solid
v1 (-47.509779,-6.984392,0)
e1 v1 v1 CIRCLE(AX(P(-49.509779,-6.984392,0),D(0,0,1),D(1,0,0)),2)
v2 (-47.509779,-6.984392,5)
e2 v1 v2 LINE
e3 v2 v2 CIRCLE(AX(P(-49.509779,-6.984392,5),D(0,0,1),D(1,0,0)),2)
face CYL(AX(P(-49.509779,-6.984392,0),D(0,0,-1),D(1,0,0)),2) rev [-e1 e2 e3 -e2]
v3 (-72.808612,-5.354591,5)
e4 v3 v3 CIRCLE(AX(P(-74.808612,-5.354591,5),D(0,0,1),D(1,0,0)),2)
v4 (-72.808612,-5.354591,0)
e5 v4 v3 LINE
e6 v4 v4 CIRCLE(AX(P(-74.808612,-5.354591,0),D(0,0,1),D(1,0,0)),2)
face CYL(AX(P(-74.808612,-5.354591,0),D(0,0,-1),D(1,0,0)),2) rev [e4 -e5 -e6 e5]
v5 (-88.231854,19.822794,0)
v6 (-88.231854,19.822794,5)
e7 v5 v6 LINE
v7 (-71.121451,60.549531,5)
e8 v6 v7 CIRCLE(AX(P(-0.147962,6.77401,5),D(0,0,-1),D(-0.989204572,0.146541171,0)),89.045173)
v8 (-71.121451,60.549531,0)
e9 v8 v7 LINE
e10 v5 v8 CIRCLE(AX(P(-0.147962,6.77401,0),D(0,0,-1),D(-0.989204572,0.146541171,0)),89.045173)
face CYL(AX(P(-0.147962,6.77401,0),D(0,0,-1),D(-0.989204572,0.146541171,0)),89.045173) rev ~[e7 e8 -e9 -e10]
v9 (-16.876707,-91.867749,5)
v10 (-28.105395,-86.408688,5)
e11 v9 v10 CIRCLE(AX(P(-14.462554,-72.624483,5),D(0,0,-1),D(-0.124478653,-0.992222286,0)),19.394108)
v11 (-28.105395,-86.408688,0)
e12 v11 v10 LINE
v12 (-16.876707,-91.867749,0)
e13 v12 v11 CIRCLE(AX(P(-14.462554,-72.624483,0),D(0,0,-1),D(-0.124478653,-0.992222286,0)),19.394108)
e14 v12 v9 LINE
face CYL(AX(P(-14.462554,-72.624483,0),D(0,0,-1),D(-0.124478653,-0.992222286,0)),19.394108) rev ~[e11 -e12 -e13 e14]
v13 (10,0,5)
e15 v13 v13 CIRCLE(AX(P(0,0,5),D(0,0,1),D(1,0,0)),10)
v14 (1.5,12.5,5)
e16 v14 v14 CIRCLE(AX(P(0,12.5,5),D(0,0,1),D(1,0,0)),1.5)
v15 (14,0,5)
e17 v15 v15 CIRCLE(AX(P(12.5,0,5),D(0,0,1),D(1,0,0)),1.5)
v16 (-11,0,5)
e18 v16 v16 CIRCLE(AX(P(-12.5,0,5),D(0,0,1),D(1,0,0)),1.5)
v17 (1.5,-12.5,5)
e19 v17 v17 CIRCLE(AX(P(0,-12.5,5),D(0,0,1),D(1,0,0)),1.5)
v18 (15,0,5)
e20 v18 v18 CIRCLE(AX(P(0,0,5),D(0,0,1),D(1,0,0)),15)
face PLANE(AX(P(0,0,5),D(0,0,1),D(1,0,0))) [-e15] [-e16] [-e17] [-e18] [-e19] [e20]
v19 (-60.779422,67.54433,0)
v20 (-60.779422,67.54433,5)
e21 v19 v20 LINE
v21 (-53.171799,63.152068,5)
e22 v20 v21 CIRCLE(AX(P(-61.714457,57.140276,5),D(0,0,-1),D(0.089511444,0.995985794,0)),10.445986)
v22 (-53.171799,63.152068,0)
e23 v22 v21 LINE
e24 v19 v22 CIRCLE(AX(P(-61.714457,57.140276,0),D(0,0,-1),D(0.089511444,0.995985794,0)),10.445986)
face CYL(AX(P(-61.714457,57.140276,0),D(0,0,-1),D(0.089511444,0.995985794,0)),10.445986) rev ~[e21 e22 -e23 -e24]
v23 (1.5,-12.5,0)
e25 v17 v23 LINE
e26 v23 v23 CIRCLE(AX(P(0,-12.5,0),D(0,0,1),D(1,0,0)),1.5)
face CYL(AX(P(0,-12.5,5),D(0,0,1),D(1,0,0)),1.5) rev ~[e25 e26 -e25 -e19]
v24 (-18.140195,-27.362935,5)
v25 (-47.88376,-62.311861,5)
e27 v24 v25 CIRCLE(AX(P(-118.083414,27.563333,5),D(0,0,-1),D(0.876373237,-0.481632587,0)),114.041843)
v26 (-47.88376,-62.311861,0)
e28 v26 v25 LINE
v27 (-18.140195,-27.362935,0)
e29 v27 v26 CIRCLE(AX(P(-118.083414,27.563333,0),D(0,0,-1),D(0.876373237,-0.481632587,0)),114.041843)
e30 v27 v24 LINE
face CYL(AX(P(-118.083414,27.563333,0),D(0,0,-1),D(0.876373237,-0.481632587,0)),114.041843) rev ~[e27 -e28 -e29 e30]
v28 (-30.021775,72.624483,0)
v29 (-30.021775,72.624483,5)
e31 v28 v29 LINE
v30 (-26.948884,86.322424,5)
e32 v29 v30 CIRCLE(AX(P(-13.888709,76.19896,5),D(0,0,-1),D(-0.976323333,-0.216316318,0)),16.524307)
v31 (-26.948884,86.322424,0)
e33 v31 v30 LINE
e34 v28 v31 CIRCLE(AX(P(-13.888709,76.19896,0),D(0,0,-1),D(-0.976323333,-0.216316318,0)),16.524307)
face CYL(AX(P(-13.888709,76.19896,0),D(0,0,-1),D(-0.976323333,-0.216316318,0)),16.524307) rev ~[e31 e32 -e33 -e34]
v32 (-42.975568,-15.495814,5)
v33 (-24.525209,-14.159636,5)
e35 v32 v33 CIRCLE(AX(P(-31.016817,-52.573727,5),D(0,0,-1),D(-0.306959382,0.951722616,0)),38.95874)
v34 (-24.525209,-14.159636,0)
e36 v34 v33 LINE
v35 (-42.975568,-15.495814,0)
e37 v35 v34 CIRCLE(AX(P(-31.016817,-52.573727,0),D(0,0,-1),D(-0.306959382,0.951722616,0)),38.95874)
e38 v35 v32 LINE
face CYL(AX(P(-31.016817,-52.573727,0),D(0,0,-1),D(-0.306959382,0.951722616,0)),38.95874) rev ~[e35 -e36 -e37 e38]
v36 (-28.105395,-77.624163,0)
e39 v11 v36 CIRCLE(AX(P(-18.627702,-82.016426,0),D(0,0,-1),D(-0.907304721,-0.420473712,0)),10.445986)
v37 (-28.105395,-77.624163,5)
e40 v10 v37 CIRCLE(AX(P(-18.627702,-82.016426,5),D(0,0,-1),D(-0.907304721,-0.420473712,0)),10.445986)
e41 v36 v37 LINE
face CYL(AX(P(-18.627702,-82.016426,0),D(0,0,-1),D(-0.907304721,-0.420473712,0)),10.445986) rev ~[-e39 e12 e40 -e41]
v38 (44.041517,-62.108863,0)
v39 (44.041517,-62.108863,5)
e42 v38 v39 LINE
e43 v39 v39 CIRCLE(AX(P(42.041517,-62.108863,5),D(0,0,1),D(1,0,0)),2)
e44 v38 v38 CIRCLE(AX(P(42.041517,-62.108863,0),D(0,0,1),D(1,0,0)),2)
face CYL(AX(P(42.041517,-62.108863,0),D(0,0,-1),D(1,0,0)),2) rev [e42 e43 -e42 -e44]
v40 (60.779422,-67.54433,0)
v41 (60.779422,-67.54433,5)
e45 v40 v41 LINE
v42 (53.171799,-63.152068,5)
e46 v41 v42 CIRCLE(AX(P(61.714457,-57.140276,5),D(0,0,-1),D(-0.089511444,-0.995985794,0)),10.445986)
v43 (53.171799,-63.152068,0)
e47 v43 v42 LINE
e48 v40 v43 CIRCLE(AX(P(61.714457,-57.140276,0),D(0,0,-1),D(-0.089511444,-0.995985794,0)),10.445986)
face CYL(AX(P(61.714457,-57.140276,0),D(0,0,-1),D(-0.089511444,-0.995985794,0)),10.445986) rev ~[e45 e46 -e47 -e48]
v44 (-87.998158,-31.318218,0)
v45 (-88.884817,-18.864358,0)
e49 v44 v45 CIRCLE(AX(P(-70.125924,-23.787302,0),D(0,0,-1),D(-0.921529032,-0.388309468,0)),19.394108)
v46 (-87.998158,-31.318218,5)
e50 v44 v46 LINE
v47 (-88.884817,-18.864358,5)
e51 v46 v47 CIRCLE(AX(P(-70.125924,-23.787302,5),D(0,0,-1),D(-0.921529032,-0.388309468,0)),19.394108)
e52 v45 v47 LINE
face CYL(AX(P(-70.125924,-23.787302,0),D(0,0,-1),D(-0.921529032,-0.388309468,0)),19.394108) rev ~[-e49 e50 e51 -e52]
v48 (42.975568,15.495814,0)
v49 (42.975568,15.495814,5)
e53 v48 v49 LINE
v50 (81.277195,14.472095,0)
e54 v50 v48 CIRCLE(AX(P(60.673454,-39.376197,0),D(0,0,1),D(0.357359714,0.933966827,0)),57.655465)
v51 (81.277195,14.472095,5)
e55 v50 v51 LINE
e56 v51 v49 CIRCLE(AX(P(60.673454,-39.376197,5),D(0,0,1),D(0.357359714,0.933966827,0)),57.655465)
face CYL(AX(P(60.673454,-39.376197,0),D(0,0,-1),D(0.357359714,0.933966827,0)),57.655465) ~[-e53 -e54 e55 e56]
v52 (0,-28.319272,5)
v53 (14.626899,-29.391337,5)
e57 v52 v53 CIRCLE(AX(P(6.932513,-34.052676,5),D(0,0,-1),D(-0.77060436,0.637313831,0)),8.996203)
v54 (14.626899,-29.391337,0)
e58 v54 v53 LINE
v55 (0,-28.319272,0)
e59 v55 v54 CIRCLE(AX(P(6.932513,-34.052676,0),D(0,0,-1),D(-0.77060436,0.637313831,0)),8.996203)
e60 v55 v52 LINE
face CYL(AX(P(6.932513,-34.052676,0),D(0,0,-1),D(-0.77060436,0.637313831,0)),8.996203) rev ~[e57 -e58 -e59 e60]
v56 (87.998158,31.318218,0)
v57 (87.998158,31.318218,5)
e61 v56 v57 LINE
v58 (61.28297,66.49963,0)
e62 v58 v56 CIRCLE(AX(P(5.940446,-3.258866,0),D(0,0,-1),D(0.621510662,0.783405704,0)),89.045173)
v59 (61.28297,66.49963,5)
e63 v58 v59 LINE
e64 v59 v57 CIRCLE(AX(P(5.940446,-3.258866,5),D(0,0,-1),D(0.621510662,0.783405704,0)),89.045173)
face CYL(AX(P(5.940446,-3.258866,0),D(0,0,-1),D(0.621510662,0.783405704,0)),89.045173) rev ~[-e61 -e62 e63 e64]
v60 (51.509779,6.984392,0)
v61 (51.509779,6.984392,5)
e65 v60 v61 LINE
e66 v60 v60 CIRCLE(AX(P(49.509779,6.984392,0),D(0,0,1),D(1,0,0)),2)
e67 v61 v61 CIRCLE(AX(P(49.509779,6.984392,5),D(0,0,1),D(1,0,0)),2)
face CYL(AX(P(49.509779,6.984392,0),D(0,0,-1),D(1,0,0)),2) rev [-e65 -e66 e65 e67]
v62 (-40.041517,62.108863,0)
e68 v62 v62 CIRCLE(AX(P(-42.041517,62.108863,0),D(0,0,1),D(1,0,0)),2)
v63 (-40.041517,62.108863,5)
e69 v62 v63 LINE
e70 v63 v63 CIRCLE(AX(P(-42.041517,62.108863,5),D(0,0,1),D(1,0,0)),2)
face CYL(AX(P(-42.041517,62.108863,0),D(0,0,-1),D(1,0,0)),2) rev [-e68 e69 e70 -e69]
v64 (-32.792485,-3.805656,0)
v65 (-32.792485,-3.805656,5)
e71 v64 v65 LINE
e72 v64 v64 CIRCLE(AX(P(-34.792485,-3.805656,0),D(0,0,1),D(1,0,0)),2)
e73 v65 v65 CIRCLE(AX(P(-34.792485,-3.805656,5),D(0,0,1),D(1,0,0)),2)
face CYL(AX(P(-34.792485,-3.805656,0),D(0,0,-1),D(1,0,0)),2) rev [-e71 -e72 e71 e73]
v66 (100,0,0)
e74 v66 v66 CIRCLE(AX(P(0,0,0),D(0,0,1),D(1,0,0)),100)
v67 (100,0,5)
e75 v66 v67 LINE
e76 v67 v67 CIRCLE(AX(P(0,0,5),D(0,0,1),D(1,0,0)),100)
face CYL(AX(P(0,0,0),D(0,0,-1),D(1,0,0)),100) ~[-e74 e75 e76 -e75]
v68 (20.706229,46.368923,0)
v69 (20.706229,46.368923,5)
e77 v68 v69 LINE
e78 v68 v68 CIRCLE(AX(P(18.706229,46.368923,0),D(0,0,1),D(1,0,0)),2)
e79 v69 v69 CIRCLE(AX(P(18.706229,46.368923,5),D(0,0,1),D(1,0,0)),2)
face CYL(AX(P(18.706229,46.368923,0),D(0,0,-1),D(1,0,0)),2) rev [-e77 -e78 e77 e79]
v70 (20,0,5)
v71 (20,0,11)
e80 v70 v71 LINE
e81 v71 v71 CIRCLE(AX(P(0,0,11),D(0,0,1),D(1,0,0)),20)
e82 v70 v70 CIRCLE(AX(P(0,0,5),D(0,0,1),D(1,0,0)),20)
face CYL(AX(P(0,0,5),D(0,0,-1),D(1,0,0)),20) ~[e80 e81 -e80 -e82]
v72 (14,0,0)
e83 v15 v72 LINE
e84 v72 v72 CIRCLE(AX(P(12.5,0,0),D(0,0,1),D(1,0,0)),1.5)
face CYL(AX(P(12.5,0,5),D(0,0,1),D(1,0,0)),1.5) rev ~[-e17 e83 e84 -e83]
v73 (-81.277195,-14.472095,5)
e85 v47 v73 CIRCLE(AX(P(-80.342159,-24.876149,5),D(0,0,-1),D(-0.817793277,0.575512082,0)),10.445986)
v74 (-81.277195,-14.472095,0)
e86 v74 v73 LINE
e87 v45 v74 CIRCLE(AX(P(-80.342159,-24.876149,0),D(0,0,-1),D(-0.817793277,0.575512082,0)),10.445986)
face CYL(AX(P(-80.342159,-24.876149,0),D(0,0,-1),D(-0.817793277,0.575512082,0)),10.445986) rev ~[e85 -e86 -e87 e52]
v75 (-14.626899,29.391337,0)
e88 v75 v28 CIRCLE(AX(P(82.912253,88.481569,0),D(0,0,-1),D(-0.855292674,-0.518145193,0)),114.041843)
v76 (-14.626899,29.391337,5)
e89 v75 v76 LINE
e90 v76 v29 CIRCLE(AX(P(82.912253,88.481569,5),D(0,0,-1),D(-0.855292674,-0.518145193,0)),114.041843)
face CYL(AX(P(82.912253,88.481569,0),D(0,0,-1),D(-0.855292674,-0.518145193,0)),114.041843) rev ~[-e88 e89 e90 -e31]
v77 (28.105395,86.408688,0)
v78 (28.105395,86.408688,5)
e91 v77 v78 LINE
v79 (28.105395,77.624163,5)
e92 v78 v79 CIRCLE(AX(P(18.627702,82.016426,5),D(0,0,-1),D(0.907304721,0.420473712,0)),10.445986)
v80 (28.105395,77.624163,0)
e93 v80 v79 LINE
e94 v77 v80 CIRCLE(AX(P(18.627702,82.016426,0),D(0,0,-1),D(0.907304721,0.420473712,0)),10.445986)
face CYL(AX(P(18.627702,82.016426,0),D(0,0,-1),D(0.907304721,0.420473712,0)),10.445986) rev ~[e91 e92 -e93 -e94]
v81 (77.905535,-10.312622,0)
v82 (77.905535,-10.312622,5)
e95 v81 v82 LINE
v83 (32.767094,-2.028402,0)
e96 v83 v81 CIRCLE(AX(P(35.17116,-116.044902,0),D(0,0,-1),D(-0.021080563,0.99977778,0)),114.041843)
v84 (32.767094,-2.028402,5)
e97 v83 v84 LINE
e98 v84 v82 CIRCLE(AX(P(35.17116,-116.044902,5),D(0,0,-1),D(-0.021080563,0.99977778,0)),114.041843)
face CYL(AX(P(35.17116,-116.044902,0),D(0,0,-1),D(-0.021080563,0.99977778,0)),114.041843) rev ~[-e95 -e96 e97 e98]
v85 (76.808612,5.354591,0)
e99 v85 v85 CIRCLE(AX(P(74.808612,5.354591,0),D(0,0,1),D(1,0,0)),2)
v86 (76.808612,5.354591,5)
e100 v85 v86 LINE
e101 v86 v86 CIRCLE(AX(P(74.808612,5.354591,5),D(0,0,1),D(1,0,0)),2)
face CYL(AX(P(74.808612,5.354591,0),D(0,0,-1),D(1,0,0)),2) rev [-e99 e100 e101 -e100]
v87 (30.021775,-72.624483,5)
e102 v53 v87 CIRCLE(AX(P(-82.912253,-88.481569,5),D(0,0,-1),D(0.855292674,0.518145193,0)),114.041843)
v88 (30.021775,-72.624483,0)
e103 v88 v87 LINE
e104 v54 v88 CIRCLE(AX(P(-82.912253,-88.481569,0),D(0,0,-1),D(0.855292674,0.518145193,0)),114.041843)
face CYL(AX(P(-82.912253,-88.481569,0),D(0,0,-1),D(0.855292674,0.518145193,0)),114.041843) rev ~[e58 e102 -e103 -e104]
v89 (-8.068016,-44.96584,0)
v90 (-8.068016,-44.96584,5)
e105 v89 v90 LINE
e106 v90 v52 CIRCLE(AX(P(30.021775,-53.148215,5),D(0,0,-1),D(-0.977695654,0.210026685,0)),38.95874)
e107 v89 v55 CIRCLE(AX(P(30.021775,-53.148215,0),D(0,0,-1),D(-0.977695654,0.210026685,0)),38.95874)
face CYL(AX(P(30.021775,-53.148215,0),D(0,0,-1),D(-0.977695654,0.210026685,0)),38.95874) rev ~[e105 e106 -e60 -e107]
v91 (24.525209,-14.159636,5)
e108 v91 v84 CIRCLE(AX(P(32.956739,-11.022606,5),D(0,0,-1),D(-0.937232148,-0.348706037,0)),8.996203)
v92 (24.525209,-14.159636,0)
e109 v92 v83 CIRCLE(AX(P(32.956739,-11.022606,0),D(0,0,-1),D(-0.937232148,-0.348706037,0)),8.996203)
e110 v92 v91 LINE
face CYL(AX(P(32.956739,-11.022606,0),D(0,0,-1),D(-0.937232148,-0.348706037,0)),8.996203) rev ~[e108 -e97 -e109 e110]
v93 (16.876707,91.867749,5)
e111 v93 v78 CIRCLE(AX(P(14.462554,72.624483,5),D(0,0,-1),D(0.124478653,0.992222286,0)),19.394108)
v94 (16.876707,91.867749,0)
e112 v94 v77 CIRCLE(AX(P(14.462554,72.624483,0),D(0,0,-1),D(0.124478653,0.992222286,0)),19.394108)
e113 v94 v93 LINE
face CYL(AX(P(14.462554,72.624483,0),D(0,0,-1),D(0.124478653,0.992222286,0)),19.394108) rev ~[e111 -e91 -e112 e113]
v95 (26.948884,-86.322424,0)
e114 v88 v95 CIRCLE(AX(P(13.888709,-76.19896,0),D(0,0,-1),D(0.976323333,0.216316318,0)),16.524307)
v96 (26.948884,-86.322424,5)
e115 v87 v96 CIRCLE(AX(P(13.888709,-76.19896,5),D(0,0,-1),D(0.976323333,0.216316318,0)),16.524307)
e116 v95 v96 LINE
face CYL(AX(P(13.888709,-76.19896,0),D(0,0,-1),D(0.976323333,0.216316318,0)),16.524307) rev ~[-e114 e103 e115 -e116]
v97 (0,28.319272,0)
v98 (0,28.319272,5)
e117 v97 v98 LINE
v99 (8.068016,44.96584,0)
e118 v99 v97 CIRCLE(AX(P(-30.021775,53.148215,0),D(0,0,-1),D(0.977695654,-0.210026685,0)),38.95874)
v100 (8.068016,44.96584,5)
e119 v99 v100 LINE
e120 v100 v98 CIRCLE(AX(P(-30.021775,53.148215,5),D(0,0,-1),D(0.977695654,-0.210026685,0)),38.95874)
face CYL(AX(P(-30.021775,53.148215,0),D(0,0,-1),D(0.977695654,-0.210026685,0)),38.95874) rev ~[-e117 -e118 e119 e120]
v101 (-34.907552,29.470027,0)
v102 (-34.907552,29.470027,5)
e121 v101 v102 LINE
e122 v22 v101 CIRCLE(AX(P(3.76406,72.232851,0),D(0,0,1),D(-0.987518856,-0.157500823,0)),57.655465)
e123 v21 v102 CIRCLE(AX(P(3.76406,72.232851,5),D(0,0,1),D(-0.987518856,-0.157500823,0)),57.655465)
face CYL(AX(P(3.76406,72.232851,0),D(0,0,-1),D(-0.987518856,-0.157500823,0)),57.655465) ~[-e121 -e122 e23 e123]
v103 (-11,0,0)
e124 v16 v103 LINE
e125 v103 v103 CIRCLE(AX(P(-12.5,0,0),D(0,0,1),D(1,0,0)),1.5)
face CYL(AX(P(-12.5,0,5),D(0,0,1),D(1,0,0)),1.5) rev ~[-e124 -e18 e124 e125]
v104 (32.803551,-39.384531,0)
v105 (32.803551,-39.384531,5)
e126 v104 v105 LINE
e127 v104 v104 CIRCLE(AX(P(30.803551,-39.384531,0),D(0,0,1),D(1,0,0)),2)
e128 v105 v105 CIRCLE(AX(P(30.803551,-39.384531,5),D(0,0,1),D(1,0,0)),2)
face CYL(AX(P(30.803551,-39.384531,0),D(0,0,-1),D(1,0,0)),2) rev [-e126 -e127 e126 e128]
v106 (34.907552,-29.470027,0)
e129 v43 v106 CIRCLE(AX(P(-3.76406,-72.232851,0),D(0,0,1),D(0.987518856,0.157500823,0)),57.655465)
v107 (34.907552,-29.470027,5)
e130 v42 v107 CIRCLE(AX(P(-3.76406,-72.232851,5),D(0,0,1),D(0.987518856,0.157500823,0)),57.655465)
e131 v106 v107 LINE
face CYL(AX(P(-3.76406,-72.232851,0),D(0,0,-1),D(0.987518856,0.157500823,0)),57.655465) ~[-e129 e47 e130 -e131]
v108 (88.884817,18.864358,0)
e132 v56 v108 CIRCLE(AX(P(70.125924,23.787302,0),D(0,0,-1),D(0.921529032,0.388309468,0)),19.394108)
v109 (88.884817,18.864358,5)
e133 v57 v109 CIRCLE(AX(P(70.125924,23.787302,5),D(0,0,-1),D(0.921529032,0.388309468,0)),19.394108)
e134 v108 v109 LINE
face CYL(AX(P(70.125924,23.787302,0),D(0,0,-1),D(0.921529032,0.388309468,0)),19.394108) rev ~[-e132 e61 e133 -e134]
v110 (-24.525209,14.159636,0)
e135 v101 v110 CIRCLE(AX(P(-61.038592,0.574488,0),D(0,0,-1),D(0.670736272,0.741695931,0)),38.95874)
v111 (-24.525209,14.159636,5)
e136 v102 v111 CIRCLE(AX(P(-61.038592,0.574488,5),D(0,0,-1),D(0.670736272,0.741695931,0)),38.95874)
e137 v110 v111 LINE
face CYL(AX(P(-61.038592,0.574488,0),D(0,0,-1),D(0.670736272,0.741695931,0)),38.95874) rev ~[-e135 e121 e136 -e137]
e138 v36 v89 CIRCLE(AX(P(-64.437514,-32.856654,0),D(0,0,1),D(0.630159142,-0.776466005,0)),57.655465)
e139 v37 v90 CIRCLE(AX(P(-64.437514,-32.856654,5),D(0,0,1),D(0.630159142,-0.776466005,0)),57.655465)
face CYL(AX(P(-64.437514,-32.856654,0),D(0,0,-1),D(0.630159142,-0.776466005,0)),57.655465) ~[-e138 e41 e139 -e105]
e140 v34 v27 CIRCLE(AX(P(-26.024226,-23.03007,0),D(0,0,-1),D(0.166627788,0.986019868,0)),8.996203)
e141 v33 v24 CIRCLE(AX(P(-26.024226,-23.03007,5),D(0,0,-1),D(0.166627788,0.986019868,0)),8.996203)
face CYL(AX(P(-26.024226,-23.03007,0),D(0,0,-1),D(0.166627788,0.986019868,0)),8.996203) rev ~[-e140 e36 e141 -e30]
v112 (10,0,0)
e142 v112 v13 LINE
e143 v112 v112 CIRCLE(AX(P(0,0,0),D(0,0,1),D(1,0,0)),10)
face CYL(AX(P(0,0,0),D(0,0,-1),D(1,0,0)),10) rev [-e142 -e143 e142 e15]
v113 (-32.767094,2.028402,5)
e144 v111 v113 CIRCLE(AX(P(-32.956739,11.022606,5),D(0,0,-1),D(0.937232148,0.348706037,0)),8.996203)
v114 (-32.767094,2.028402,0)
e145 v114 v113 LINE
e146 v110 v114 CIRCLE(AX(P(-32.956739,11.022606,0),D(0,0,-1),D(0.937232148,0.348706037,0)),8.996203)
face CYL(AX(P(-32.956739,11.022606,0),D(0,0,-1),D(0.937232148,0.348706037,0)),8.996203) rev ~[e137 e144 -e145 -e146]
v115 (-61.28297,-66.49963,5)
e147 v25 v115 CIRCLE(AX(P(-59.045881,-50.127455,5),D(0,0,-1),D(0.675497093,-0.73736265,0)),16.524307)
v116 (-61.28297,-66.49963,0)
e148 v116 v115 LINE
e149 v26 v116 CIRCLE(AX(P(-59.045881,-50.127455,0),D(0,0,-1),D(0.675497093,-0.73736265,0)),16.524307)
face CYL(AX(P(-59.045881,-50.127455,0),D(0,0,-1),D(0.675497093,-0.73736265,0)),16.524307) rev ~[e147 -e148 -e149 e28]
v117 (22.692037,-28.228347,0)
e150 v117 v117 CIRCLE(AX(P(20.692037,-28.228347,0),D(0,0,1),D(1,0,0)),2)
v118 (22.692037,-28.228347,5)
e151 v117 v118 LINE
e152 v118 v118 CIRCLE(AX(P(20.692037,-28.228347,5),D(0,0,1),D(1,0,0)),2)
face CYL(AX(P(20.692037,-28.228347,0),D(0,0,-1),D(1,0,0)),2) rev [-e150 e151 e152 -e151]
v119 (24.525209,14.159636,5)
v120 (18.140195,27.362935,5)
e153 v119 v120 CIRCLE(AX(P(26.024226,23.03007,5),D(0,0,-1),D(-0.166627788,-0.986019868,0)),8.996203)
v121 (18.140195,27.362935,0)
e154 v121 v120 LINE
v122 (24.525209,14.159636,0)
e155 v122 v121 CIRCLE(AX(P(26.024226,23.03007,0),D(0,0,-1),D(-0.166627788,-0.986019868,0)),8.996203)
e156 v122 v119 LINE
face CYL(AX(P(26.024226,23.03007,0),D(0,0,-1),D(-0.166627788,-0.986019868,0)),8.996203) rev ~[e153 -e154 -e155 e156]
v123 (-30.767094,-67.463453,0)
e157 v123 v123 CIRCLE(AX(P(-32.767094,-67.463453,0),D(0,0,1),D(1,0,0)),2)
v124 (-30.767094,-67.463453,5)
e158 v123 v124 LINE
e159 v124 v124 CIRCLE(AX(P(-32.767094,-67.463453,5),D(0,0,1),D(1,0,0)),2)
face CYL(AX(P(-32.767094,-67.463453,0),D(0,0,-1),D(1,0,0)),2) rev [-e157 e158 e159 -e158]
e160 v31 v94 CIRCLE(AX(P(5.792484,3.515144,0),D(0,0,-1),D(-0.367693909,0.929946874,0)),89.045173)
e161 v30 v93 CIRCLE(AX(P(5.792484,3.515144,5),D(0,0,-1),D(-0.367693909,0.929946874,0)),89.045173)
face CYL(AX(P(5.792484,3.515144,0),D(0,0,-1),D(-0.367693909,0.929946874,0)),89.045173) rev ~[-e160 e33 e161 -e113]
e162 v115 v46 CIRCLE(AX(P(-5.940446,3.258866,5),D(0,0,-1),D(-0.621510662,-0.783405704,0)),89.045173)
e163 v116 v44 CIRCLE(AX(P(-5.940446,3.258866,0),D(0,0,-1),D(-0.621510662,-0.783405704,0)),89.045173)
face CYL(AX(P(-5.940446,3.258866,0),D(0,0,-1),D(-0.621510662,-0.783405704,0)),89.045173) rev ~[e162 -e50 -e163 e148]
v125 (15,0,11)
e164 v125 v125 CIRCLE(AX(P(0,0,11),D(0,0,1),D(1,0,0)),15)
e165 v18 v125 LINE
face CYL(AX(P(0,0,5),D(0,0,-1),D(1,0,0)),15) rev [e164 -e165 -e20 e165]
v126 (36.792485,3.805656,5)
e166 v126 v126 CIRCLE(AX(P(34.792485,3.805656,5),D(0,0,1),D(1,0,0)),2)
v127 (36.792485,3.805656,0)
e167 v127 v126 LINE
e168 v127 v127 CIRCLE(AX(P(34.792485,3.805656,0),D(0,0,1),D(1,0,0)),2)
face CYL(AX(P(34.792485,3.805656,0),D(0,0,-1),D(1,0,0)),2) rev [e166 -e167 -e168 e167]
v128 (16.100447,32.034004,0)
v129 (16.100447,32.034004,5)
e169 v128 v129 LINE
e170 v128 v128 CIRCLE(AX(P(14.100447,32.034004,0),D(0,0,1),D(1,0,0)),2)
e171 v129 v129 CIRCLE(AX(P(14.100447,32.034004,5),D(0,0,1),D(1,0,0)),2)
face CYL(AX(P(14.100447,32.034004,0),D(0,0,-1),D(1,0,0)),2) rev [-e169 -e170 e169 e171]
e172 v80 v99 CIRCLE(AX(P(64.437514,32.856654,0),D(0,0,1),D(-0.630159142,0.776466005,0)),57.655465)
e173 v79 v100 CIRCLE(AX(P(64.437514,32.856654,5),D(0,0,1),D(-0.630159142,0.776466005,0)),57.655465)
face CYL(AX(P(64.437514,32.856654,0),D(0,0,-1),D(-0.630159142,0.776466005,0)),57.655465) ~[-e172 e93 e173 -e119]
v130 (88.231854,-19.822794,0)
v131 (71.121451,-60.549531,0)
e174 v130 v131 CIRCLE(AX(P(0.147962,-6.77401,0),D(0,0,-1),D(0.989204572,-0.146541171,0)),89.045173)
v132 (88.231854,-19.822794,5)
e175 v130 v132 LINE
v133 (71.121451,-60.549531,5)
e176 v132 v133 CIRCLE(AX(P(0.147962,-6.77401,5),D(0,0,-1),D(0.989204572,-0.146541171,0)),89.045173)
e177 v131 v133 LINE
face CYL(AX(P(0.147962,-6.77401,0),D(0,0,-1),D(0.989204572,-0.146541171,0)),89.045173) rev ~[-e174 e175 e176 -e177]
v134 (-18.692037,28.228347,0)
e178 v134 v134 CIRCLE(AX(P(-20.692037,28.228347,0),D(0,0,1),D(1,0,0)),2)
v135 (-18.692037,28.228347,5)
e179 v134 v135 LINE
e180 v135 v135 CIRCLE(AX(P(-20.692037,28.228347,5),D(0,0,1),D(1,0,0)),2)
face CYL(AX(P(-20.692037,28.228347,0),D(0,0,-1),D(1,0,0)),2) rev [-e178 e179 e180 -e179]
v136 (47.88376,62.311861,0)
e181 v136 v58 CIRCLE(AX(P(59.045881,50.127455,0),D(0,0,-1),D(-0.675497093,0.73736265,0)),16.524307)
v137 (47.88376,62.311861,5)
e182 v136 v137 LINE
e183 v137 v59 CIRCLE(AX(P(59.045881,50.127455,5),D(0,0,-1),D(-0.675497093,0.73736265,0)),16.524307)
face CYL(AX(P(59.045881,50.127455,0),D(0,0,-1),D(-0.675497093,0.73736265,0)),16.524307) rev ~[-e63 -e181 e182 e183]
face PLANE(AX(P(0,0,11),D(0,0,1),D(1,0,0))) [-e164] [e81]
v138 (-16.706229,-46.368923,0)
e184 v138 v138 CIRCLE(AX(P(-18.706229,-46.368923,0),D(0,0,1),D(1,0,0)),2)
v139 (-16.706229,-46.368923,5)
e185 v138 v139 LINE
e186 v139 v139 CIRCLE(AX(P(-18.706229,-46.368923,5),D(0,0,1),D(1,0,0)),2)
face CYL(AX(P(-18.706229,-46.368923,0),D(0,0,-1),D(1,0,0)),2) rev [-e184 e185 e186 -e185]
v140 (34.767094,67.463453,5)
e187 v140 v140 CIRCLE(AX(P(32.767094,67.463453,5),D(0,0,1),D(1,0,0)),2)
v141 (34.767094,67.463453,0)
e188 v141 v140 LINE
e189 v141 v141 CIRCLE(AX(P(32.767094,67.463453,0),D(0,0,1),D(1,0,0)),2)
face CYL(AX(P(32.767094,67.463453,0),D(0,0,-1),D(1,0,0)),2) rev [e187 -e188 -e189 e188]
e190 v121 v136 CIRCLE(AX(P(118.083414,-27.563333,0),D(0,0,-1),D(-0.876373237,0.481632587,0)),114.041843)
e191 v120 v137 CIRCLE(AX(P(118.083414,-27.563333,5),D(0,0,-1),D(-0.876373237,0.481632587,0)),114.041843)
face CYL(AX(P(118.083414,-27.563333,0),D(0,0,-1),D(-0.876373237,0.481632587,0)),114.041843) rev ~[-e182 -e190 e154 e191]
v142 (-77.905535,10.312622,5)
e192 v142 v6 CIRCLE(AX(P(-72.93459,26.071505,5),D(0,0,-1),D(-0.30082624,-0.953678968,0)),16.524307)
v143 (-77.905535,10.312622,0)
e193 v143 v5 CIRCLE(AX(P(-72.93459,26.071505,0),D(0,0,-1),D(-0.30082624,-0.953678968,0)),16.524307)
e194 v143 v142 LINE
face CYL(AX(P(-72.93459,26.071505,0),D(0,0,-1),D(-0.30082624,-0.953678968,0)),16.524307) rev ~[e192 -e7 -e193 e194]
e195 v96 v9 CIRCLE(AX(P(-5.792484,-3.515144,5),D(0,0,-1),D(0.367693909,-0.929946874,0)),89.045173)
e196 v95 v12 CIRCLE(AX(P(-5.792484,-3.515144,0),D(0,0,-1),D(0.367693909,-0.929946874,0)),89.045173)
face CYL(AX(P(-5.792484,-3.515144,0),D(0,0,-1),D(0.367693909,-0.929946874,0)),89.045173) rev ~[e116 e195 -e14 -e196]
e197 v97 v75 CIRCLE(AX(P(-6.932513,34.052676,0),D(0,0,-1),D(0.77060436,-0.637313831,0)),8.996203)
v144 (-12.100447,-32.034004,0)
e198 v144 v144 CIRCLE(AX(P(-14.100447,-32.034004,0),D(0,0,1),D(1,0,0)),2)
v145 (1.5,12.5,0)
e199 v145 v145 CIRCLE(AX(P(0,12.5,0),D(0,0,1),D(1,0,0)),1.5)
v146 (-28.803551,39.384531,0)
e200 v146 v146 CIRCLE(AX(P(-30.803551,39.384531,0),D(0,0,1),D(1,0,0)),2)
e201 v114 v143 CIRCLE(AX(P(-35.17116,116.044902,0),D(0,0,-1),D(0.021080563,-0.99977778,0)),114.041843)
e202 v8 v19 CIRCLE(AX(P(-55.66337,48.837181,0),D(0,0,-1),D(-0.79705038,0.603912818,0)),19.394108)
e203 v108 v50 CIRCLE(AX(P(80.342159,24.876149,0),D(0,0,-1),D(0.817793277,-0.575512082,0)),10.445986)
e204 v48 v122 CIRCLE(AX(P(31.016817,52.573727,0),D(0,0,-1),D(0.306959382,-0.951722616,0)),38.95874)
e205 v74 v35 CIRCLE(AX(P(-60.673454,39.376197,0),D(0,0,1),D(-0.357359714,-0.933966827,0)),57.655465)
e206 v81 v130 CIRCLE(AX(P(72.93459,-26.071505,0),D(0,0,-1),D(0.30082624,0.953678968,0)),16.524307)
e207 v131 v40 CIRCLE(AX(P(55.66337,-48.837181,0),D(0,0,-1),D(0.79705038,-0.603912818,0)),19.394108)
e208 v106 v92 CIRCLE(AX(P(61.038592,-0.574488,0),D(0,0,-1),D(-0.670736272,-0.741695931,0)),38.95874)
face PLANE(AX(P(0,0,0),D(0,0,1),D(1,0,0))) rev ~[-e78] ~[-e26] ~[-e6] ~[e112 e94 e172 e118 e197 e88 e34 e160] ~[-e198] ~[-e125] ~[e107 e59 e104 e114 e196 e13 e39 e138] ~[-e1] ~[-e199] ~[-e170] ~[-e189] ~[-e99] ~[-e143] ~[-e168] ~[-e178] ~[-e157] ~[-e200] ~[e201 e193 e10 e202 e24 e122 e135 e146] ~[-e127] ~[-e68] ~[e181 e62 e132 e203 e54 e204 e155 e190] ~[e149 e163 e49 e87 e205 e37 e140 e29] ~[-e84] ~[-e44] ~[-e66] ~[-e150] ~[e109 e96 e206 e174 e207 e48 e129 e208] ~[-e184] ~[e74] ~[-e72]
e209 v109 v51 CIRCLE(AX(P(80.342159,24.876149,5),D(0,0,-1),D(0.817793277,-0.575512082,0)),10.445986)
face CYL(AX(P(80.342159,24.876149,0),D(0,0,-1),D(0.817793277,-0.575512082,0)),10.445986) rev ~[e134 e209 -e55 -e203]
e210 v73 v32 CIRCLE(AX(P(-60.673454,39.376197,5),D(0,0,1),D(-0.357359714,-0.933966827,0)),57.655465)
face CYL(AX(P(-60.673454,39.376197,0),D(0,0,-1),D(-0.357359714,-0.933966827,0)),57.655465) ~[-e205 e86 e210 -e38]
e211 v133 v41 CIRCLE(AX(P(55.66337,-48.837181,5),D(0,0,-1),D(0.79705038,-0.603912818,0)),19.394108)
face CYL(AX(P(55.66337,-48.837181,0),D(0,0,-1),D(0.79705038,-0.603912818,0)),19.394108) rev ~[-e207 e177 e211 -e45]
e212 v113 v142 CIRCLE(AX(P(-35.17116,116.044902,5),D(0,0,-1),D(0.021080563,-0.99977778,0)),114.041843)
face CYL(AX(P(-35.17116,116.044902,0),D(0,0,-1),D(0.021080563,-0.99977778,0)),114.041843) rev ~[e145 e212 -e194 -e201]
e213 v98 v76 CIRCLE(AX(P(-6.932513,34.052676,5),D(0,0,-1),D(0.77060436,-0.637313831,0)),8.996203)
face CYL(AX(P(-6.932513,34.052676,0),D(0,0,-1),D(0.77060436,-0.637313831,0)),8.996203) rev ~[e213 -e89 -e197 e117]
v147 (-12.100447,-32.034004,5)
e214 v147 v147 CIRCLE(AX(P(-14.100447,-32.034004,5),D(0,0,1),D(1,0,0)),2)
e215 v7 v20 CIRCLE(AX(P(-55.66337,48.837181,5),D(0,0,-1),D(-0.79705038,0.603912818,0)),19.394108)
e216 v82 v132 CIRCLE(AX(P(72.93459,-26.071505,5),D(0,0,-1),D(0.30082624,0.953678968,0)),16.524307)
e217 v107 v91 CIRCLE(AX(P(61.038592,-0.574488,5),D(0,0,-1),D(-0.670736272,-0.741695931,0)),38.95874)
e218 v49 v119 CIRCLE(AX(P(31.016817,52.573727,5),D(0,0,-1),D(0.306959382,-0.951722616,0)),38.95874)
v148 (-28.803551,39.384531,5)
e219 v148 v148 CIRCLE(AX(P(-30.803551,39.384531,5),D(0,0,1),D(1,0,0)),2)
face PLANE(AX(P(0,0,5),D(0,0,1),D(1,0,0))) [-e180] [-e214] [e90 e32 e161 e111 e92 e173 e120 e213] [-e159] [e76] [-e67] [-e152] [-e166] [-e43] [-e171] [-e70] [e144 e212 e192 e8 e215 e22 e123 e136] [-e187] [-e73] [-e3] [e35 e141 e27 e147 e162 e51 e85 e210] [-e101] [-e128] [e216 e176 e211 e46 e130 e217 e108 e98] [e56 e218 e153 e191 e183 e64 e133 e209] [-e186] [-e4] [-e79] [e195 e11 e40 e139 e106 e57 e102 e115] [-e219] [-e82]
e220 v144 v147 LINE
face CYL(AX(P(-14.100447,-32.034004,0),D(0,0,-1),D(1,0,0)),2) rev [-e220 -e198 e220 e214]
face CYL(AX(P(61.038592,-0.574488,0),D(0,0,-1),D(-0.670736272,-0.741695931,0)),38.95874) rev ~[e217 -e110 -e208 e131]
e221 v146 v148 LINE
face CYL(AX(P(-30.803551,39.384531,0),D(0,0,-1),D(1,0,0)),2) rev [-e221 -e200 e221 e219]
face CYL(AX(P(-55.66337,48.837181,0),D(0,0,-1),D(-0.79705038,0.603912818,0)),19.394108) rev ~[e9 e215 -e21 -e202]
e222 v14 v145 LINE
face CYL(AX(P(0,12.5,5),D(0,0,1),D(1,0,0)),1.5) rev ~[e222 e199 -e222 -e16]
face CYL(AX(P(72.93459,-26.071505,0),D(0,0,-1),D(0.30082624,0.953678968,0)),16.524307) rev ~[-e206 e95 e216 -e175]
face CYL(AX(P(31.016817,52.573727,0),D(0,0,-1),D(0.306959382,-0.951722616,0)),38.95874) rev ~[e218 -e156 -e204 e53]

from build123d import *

# Parameters (mm, degrees)
SKETCH1_R           = 100
SKETCH1_R_2         = 2
SKETCH1_R_3         = 10
BOSS_EXTRUDE1_DEPTH = 5
SKETCH2_R           = 20
SKETCH2_R_2         = 15
BOSS_EXTRUDE2_DEPTH = 6
CUT_EXTRUDE1_REACH  = 143.549
SKETCH3_R           = 1.5


with BuildPart() as part:
    # Sketch1 → Boss-Extrude1 (new body)
    with BuildSketch(Plane.XY):
        Circle(SKETCH1_R)
        with Locations((-32.76709405, -67.463453421)):
            Circle(SKETCH1_R_2, mode=Mode.SUBTRACT)
        with BuildLine():
            ThreePointArc((-18.140194711, -27.362934842), (-31.235810605, -46.349018862), (-47.883759759, -62.311861059))
            ThreePointArc((-47.883759759, -62.311861059), (-54.116540013, -65.899401412), (-61.282970137, -66.499630328))
            ThreePointArc((-61.282970137, -66.499630328), (-76.856869776, -50.591887199), (-87.998157845, -31.318217554))
            ThreePointArc((-87.998157845, -31.318217554), (-89.471065891, -25.164589135), (-88.884816772, -18.864357964))
            ThreePointArc((-88.884816772, -18.864357964), (-85.565152522, -15.829659751), (-81.277194651, -14.472095285))
            ThreePointArc((-81.277194651, -14.472095285), (-62.213907679, -18.258685792), (-42.975567969, -15.495813542))
            ThreePointArc((-42.975567969, -15.495813542), (-33.830845233, -13.716750405), (-24.525208658, -14.159635821))
            ThreePointArc((-24.525208658, -14.159635821), (-17.925326288, -19.113504773), (-18.140194711, -27.362934842))
        make_face(mode=Mode.SUBTRACT)
        with Locations((-74.808611515, -5.354590855)):
            Circle(SKETCH1_R_2, mode=Mode.SUBTRACT)
        with Locations((-18.706228616, -46.368922901)):
            Circle(SKETCH1_R_2, mode=Mode.SUBTRACT)
        with Locations((-14.100447384, -32.034003552)):
            Circle(SKETCH1_R_2, mode=Mode.SUBTRACT)
        with Locations((-49.509779486, -6.98439226)):
            Circle(SKETCH1_R_2, mode=Mode.SUBTRACT)
        with Locations((-34.792484553, -3.805656136)):
            Circle(SKETCH1_R_2, mode=Mode.SUBTRACT)
        with BuildLine():
            ThreePointArc((14.62689934, -29.39133687), (24.521522472, -50.225514922), (30.021774754, -72.62448291))
            ThreePointArc((30.021774754, -72.62448291), (30.012285711, -79.815999122), (26.948884138, -86.322424122))
            ThreePointArc((26.948884138, -86.322424122), (5.385424652, -91.85594528), (-16.876706919, -91.867748957))
            ThreePointArc((-16.876706919, -91.867748957), (-22.942359479, -90.066510532), (-28.105395163, -86.408688317))
            ThreePointArc((-28.105395163, -86.408688317), (-29.073688784, -82.016425638), (-28.105395163, -77.624162959))
            ThreePointArc((-28.105395163, -77.624162959), (-15.294468104, -63.008167415), (-8.068015805, -44.965840374))
            ThreePointArc((-8.068015805, -44.965840374), (-5.036368308, -36.156746606), (0, -28.319271641))
            ThreePointArc((0, -28.319271641), (7.590117545, -25.080540323), (14.62689934, -29.39133687))
        make_face(mode=Mode.SUBTRACT)
        with Locations((42.041517465, -62.108862566)):
            Circle(SKETCH1_R_2, mode=Mode.SUBTRACT)
        with Locations((20.692037169, -28.228347416)):
            Circle(SKETCH1_R_2, mode=Mode.SUBTRACT)
        with Locations((30.80355087, -39.384530641)):
            Circle(SKETCH1_R_2, mode=Mode.SUBTRACT)
        with BuildLine():
            ThreePointArc((32.76709405, -2.028402028), (55.757333077, -3.876496061), (77.905534514, -10.312621851))
            ThreePointArc((77.905534514, -10.312621851), (84.128825724, -13.91659771), (88.231854275, -19.822793794))
            ThreePointArc((88.231854275, -19.822793794), (82.242294427, -41.264058082), (71.121450925, -60.549531403))
            ThreePointArc((71.121450925, -60.549531403), (66.528706412, -64.901921398), (60.779421608, -67.544330353))
            ThreePointArc((60.779421608, -67.544330353), (56.491463738, -66.186765887), (53.171799488, -63.152067674))
            ThreePointArc((53.171799488, -63.152067674), (46.919439575, -44.749481623), (34.907552164, -29.470026832))
            ThreePointArc((34.907552164, -29.470026832), (28.794476925, -22.439996201), (24.525208658, -14.159635821))
            ThreePointArc((24.525208658, -14.159635821), (25.515443833, -5.96703555), (32.76709405, -2.028402028))
        make_face(mode=Mode.SUBTRACT)
        with BuildLine():
            ThreePointArc((-32.76709405, 2.028402028), (-55.757333077, 3.876496061), (-77.905534514, 10.312621851))
            ThreePointArc((-77.905534514, 10.312621851), (-84.128825724, 13.91659771), (-88.231854275, 19.822793794))
            ThreePointArc((-88.231854275, 19.822793794), (-82.242294427, 41.264058082), (-71.121450925, 60.549531403))
            ThreePointArc((-71.121450925, 60.549531403), (-66.528706412, 64.901921398), (-60.779421608, 67.544330353))
            ThreePointArc((-60.779421608, 67.544330353), (-56.491463738, 66.186765887), (-53.171799488, 63.152067674))
            ThreePointArc((-53.171799488, 63.152067674), (-46.919439575, 44.749481623), (-34.907552164, 29.470026832))
            ThreePointArc((-34.907552164, 29.470026832), (-28.794476925, 22.439996201), (-24.525208658, 14.159635821))
            ThreePointArc((-24.525208658, 14.159635821), (-25.515443833, 5.96703555), (-32.76709405, 2.028402028))
        make_face(mode=Mode.SUBTRACT)
        with Locations((-30.80355087, 39.384530641)):
            Circle(SKETCH1_R_2, mode=Mode.SUBTRACT)
        with Locations((-20.692037169, 28.228347416)):
            Circle(SKETCH1_R_2, mode=Mode.SUBTRACT)
        with Locations((-42.041517465, 62.108862566)):
            Circle(SKETCH1_R_2, mode=Mode.SUBTRACT)
        with BuildLine():
            ThreePointArc((-14.62689934, 29.39133687), (-24.521522472, 50.225514922), (-30.021774754, 72.62448291))
            ThreePointArc((-30.021774754, 72.62448291), (-30.012285711, 79.815999122), (-26.948884138, 86.322424122))
            ThreePointArc((-26.948884138, 86.322424122), (-5.385424652, 91.85594528), (16.876706919, 91.867748957))
            ThreePointArc((16.876706919, 91.867748957), (22.942359479, 90.066510532), (28.105395163, 86.408688317))
            ThreePointArc((28.105395163, 86.408688317), (29.073688784, 82.016425638), (28.105395163, 77.624162959))
            ThreePointArc((28.105395163, 77.624162959), (15.294468104, 63.008167415), (8.068015805, 44.965840374))
            ThreePointArc((8.068015805, 44.965840374), (5.036368308, 36.156746606), (0, 28.319271641))
            ThreePointArc((0, 28.319271641), (-7.590117545, 25.080540323), (-14.62689934, 29.39133687))
        make_face(mode=Mode.SUBTRACT)
        with Locations((34.792484553, 3.805656136)):
            Circle(SKETCH1_R_2, mode=Mode.SUBTRACT)
        with Locations((49.509779486, 6.98439226)):
            Circle(SKETCH1_R_2, mode=Mode.SUBTRACT)
        with Locations((14.100447384, 32.034003552)):
            Circle(SKETCH1_R_2, mode=Mode.SUBTRACT)
        with Locations((18.706228616, 46.368922901)):
            Circle(SKETCH1_R_2, mode=Mode.SUBTRACT)
        with Locations((74.808611515, 5.354590855)):
            Circle(SKETCH1_R_2, mode=Mode.SUBTRACT)
        with BuildLine():
            ThreePointArc((18.140194711, 27.362934842), (31.235810605, 46.349018862), (47.883759759, 62.311861059))
            ThreePointArc((47.883759759, 62.311861059), (54.116540013, 65.899401412), (61.282970137, 66.499630328))
            ThreePointArc((61.282970137, 66.499630328), (76.856869776, 50.591887199), (87.998157845, 31.318217554))
            ThreePointArc((87.998157845, 31.318217554), (89.471065891, 25.164589135), (88.884816772, 18.864357964))
            ThreePointArc((88.884816772, 18.864357964), (85.565152522, 15.829659751), (81.277194651, 14.472095285))
            ThreePointArc((81.277194651, 14.472095285), (62.213907679, 18.258685792), (42.975567969, 15.495813542))
            ThreePointArc((42.975567969, 15.495813542), (33.830845233, 13.716750405), (24.525208658, 14.159635821))
            ThreePointArc((24.525208658, 14.159635821), (17.925326288, 19.113504773), (18.140194711, 27.362934842))
        make_face(mode=Mode.SUBTRACT)
        with Locations((32.76709405, 67.463453421)):
            Circle(SKETCH1_R_2, mode=Mode.SUBTRACT)
        Circle(SKETCH1_R_3, mode=Mode.SUBTRACT)
    extrude(amount=BOSS_EXTRUDE1_DEPTH)

    # Sketch2 → Boss-Extrude2 (add)
    with BuildSketch(Plane.XY.offset(5)):
        Circle(SKETCH2_R)
        Circle(SKETCH2_R_2, mode=Mode.SUBTRACT)
    extrude(amount=BOSS_EXTRUDE2_DEPTH)

    # Sketch3 → Cut-Extrude1 (cut, up to next)
    with BuildSketch(Plane.XY.offset(5), mode=Mode.PRIVATE) as cut_extrude1_sk1:
        with Locations((0, 12.5)):
            Circle(SKETCH3_R)
    cut_extrude1_tool1 = extrude(cut_extrude1_sk1.sketch, amount=-CUT_EXTRUDE1_REACH, mode=Mode.PRIVATE) & part.part
    # Sketch3 → Cut-Extrude1 (cut, up to next)
    with BuildSketch(Plane.XY.offset(5), mode=Mode.PRIVATE) as cut_extrude1_sk2:
        with Locations((12.5, 0)):
            Circle(SKETCH3_R)
    cut_extrude1_tool2 = extrude(cut_extrude1_sk2.sketch, amount=-CUT_EXTRUDE1_REACH, mode=Mode.PRIVATE) & part.part
    # Sketch3 → Cut-Extrude1 (cut, up to next)
    with BuildSketch(Plane.XY.offset(5), mode=Mode.PRIVATE) as cut_extrude1_sk3:
        with Locations((0, -12.5)):
            Circle(SKETCH3_R)
    cut_extrude1_tool3 = extrude(cut_extrude1_sk3.sketch, amount=-CUT_EXTRUDE1_REACH, mode=Mode.PRIVATE) & part.part
    # Sketch3 → Cut-Extrude1 (cut, up to next)
    with BuildSketch(Plane.XY.offset(5), mode=Mode.PRIVATE) as cut_extrude1_sk4:
        with Locations((-12.5, 0)):
            Circle(SKETCH3_R)
    cut_extrude1_tool4 = extrude(cut_extrude1_sk4.sketch, amount=-CUT_EXTRUDE1_REACH, mode=Mode.PRIVATE) & part.part
    add(cut_extrude1_tool1.solids().sort_by_distance((0, 12.5, 5))[0], mode=Mode.SUBTRACT)
    add(cut_extrude1_tool2.solids().sort_by_distance((12.5, 0, 5))[0], mode=Mode.SUBTRACT)
    add(cut_extrude1_tool3.solids().sort_by_distance((0, -12.5, 5))[0], mode=Mode.SUBTRACT)
    add(cut_extrude1_tool4.solids().sort_by_distance((-12.5, 0, 5))[0], mode=Mode.SUBTRACT)


solid = part.part
